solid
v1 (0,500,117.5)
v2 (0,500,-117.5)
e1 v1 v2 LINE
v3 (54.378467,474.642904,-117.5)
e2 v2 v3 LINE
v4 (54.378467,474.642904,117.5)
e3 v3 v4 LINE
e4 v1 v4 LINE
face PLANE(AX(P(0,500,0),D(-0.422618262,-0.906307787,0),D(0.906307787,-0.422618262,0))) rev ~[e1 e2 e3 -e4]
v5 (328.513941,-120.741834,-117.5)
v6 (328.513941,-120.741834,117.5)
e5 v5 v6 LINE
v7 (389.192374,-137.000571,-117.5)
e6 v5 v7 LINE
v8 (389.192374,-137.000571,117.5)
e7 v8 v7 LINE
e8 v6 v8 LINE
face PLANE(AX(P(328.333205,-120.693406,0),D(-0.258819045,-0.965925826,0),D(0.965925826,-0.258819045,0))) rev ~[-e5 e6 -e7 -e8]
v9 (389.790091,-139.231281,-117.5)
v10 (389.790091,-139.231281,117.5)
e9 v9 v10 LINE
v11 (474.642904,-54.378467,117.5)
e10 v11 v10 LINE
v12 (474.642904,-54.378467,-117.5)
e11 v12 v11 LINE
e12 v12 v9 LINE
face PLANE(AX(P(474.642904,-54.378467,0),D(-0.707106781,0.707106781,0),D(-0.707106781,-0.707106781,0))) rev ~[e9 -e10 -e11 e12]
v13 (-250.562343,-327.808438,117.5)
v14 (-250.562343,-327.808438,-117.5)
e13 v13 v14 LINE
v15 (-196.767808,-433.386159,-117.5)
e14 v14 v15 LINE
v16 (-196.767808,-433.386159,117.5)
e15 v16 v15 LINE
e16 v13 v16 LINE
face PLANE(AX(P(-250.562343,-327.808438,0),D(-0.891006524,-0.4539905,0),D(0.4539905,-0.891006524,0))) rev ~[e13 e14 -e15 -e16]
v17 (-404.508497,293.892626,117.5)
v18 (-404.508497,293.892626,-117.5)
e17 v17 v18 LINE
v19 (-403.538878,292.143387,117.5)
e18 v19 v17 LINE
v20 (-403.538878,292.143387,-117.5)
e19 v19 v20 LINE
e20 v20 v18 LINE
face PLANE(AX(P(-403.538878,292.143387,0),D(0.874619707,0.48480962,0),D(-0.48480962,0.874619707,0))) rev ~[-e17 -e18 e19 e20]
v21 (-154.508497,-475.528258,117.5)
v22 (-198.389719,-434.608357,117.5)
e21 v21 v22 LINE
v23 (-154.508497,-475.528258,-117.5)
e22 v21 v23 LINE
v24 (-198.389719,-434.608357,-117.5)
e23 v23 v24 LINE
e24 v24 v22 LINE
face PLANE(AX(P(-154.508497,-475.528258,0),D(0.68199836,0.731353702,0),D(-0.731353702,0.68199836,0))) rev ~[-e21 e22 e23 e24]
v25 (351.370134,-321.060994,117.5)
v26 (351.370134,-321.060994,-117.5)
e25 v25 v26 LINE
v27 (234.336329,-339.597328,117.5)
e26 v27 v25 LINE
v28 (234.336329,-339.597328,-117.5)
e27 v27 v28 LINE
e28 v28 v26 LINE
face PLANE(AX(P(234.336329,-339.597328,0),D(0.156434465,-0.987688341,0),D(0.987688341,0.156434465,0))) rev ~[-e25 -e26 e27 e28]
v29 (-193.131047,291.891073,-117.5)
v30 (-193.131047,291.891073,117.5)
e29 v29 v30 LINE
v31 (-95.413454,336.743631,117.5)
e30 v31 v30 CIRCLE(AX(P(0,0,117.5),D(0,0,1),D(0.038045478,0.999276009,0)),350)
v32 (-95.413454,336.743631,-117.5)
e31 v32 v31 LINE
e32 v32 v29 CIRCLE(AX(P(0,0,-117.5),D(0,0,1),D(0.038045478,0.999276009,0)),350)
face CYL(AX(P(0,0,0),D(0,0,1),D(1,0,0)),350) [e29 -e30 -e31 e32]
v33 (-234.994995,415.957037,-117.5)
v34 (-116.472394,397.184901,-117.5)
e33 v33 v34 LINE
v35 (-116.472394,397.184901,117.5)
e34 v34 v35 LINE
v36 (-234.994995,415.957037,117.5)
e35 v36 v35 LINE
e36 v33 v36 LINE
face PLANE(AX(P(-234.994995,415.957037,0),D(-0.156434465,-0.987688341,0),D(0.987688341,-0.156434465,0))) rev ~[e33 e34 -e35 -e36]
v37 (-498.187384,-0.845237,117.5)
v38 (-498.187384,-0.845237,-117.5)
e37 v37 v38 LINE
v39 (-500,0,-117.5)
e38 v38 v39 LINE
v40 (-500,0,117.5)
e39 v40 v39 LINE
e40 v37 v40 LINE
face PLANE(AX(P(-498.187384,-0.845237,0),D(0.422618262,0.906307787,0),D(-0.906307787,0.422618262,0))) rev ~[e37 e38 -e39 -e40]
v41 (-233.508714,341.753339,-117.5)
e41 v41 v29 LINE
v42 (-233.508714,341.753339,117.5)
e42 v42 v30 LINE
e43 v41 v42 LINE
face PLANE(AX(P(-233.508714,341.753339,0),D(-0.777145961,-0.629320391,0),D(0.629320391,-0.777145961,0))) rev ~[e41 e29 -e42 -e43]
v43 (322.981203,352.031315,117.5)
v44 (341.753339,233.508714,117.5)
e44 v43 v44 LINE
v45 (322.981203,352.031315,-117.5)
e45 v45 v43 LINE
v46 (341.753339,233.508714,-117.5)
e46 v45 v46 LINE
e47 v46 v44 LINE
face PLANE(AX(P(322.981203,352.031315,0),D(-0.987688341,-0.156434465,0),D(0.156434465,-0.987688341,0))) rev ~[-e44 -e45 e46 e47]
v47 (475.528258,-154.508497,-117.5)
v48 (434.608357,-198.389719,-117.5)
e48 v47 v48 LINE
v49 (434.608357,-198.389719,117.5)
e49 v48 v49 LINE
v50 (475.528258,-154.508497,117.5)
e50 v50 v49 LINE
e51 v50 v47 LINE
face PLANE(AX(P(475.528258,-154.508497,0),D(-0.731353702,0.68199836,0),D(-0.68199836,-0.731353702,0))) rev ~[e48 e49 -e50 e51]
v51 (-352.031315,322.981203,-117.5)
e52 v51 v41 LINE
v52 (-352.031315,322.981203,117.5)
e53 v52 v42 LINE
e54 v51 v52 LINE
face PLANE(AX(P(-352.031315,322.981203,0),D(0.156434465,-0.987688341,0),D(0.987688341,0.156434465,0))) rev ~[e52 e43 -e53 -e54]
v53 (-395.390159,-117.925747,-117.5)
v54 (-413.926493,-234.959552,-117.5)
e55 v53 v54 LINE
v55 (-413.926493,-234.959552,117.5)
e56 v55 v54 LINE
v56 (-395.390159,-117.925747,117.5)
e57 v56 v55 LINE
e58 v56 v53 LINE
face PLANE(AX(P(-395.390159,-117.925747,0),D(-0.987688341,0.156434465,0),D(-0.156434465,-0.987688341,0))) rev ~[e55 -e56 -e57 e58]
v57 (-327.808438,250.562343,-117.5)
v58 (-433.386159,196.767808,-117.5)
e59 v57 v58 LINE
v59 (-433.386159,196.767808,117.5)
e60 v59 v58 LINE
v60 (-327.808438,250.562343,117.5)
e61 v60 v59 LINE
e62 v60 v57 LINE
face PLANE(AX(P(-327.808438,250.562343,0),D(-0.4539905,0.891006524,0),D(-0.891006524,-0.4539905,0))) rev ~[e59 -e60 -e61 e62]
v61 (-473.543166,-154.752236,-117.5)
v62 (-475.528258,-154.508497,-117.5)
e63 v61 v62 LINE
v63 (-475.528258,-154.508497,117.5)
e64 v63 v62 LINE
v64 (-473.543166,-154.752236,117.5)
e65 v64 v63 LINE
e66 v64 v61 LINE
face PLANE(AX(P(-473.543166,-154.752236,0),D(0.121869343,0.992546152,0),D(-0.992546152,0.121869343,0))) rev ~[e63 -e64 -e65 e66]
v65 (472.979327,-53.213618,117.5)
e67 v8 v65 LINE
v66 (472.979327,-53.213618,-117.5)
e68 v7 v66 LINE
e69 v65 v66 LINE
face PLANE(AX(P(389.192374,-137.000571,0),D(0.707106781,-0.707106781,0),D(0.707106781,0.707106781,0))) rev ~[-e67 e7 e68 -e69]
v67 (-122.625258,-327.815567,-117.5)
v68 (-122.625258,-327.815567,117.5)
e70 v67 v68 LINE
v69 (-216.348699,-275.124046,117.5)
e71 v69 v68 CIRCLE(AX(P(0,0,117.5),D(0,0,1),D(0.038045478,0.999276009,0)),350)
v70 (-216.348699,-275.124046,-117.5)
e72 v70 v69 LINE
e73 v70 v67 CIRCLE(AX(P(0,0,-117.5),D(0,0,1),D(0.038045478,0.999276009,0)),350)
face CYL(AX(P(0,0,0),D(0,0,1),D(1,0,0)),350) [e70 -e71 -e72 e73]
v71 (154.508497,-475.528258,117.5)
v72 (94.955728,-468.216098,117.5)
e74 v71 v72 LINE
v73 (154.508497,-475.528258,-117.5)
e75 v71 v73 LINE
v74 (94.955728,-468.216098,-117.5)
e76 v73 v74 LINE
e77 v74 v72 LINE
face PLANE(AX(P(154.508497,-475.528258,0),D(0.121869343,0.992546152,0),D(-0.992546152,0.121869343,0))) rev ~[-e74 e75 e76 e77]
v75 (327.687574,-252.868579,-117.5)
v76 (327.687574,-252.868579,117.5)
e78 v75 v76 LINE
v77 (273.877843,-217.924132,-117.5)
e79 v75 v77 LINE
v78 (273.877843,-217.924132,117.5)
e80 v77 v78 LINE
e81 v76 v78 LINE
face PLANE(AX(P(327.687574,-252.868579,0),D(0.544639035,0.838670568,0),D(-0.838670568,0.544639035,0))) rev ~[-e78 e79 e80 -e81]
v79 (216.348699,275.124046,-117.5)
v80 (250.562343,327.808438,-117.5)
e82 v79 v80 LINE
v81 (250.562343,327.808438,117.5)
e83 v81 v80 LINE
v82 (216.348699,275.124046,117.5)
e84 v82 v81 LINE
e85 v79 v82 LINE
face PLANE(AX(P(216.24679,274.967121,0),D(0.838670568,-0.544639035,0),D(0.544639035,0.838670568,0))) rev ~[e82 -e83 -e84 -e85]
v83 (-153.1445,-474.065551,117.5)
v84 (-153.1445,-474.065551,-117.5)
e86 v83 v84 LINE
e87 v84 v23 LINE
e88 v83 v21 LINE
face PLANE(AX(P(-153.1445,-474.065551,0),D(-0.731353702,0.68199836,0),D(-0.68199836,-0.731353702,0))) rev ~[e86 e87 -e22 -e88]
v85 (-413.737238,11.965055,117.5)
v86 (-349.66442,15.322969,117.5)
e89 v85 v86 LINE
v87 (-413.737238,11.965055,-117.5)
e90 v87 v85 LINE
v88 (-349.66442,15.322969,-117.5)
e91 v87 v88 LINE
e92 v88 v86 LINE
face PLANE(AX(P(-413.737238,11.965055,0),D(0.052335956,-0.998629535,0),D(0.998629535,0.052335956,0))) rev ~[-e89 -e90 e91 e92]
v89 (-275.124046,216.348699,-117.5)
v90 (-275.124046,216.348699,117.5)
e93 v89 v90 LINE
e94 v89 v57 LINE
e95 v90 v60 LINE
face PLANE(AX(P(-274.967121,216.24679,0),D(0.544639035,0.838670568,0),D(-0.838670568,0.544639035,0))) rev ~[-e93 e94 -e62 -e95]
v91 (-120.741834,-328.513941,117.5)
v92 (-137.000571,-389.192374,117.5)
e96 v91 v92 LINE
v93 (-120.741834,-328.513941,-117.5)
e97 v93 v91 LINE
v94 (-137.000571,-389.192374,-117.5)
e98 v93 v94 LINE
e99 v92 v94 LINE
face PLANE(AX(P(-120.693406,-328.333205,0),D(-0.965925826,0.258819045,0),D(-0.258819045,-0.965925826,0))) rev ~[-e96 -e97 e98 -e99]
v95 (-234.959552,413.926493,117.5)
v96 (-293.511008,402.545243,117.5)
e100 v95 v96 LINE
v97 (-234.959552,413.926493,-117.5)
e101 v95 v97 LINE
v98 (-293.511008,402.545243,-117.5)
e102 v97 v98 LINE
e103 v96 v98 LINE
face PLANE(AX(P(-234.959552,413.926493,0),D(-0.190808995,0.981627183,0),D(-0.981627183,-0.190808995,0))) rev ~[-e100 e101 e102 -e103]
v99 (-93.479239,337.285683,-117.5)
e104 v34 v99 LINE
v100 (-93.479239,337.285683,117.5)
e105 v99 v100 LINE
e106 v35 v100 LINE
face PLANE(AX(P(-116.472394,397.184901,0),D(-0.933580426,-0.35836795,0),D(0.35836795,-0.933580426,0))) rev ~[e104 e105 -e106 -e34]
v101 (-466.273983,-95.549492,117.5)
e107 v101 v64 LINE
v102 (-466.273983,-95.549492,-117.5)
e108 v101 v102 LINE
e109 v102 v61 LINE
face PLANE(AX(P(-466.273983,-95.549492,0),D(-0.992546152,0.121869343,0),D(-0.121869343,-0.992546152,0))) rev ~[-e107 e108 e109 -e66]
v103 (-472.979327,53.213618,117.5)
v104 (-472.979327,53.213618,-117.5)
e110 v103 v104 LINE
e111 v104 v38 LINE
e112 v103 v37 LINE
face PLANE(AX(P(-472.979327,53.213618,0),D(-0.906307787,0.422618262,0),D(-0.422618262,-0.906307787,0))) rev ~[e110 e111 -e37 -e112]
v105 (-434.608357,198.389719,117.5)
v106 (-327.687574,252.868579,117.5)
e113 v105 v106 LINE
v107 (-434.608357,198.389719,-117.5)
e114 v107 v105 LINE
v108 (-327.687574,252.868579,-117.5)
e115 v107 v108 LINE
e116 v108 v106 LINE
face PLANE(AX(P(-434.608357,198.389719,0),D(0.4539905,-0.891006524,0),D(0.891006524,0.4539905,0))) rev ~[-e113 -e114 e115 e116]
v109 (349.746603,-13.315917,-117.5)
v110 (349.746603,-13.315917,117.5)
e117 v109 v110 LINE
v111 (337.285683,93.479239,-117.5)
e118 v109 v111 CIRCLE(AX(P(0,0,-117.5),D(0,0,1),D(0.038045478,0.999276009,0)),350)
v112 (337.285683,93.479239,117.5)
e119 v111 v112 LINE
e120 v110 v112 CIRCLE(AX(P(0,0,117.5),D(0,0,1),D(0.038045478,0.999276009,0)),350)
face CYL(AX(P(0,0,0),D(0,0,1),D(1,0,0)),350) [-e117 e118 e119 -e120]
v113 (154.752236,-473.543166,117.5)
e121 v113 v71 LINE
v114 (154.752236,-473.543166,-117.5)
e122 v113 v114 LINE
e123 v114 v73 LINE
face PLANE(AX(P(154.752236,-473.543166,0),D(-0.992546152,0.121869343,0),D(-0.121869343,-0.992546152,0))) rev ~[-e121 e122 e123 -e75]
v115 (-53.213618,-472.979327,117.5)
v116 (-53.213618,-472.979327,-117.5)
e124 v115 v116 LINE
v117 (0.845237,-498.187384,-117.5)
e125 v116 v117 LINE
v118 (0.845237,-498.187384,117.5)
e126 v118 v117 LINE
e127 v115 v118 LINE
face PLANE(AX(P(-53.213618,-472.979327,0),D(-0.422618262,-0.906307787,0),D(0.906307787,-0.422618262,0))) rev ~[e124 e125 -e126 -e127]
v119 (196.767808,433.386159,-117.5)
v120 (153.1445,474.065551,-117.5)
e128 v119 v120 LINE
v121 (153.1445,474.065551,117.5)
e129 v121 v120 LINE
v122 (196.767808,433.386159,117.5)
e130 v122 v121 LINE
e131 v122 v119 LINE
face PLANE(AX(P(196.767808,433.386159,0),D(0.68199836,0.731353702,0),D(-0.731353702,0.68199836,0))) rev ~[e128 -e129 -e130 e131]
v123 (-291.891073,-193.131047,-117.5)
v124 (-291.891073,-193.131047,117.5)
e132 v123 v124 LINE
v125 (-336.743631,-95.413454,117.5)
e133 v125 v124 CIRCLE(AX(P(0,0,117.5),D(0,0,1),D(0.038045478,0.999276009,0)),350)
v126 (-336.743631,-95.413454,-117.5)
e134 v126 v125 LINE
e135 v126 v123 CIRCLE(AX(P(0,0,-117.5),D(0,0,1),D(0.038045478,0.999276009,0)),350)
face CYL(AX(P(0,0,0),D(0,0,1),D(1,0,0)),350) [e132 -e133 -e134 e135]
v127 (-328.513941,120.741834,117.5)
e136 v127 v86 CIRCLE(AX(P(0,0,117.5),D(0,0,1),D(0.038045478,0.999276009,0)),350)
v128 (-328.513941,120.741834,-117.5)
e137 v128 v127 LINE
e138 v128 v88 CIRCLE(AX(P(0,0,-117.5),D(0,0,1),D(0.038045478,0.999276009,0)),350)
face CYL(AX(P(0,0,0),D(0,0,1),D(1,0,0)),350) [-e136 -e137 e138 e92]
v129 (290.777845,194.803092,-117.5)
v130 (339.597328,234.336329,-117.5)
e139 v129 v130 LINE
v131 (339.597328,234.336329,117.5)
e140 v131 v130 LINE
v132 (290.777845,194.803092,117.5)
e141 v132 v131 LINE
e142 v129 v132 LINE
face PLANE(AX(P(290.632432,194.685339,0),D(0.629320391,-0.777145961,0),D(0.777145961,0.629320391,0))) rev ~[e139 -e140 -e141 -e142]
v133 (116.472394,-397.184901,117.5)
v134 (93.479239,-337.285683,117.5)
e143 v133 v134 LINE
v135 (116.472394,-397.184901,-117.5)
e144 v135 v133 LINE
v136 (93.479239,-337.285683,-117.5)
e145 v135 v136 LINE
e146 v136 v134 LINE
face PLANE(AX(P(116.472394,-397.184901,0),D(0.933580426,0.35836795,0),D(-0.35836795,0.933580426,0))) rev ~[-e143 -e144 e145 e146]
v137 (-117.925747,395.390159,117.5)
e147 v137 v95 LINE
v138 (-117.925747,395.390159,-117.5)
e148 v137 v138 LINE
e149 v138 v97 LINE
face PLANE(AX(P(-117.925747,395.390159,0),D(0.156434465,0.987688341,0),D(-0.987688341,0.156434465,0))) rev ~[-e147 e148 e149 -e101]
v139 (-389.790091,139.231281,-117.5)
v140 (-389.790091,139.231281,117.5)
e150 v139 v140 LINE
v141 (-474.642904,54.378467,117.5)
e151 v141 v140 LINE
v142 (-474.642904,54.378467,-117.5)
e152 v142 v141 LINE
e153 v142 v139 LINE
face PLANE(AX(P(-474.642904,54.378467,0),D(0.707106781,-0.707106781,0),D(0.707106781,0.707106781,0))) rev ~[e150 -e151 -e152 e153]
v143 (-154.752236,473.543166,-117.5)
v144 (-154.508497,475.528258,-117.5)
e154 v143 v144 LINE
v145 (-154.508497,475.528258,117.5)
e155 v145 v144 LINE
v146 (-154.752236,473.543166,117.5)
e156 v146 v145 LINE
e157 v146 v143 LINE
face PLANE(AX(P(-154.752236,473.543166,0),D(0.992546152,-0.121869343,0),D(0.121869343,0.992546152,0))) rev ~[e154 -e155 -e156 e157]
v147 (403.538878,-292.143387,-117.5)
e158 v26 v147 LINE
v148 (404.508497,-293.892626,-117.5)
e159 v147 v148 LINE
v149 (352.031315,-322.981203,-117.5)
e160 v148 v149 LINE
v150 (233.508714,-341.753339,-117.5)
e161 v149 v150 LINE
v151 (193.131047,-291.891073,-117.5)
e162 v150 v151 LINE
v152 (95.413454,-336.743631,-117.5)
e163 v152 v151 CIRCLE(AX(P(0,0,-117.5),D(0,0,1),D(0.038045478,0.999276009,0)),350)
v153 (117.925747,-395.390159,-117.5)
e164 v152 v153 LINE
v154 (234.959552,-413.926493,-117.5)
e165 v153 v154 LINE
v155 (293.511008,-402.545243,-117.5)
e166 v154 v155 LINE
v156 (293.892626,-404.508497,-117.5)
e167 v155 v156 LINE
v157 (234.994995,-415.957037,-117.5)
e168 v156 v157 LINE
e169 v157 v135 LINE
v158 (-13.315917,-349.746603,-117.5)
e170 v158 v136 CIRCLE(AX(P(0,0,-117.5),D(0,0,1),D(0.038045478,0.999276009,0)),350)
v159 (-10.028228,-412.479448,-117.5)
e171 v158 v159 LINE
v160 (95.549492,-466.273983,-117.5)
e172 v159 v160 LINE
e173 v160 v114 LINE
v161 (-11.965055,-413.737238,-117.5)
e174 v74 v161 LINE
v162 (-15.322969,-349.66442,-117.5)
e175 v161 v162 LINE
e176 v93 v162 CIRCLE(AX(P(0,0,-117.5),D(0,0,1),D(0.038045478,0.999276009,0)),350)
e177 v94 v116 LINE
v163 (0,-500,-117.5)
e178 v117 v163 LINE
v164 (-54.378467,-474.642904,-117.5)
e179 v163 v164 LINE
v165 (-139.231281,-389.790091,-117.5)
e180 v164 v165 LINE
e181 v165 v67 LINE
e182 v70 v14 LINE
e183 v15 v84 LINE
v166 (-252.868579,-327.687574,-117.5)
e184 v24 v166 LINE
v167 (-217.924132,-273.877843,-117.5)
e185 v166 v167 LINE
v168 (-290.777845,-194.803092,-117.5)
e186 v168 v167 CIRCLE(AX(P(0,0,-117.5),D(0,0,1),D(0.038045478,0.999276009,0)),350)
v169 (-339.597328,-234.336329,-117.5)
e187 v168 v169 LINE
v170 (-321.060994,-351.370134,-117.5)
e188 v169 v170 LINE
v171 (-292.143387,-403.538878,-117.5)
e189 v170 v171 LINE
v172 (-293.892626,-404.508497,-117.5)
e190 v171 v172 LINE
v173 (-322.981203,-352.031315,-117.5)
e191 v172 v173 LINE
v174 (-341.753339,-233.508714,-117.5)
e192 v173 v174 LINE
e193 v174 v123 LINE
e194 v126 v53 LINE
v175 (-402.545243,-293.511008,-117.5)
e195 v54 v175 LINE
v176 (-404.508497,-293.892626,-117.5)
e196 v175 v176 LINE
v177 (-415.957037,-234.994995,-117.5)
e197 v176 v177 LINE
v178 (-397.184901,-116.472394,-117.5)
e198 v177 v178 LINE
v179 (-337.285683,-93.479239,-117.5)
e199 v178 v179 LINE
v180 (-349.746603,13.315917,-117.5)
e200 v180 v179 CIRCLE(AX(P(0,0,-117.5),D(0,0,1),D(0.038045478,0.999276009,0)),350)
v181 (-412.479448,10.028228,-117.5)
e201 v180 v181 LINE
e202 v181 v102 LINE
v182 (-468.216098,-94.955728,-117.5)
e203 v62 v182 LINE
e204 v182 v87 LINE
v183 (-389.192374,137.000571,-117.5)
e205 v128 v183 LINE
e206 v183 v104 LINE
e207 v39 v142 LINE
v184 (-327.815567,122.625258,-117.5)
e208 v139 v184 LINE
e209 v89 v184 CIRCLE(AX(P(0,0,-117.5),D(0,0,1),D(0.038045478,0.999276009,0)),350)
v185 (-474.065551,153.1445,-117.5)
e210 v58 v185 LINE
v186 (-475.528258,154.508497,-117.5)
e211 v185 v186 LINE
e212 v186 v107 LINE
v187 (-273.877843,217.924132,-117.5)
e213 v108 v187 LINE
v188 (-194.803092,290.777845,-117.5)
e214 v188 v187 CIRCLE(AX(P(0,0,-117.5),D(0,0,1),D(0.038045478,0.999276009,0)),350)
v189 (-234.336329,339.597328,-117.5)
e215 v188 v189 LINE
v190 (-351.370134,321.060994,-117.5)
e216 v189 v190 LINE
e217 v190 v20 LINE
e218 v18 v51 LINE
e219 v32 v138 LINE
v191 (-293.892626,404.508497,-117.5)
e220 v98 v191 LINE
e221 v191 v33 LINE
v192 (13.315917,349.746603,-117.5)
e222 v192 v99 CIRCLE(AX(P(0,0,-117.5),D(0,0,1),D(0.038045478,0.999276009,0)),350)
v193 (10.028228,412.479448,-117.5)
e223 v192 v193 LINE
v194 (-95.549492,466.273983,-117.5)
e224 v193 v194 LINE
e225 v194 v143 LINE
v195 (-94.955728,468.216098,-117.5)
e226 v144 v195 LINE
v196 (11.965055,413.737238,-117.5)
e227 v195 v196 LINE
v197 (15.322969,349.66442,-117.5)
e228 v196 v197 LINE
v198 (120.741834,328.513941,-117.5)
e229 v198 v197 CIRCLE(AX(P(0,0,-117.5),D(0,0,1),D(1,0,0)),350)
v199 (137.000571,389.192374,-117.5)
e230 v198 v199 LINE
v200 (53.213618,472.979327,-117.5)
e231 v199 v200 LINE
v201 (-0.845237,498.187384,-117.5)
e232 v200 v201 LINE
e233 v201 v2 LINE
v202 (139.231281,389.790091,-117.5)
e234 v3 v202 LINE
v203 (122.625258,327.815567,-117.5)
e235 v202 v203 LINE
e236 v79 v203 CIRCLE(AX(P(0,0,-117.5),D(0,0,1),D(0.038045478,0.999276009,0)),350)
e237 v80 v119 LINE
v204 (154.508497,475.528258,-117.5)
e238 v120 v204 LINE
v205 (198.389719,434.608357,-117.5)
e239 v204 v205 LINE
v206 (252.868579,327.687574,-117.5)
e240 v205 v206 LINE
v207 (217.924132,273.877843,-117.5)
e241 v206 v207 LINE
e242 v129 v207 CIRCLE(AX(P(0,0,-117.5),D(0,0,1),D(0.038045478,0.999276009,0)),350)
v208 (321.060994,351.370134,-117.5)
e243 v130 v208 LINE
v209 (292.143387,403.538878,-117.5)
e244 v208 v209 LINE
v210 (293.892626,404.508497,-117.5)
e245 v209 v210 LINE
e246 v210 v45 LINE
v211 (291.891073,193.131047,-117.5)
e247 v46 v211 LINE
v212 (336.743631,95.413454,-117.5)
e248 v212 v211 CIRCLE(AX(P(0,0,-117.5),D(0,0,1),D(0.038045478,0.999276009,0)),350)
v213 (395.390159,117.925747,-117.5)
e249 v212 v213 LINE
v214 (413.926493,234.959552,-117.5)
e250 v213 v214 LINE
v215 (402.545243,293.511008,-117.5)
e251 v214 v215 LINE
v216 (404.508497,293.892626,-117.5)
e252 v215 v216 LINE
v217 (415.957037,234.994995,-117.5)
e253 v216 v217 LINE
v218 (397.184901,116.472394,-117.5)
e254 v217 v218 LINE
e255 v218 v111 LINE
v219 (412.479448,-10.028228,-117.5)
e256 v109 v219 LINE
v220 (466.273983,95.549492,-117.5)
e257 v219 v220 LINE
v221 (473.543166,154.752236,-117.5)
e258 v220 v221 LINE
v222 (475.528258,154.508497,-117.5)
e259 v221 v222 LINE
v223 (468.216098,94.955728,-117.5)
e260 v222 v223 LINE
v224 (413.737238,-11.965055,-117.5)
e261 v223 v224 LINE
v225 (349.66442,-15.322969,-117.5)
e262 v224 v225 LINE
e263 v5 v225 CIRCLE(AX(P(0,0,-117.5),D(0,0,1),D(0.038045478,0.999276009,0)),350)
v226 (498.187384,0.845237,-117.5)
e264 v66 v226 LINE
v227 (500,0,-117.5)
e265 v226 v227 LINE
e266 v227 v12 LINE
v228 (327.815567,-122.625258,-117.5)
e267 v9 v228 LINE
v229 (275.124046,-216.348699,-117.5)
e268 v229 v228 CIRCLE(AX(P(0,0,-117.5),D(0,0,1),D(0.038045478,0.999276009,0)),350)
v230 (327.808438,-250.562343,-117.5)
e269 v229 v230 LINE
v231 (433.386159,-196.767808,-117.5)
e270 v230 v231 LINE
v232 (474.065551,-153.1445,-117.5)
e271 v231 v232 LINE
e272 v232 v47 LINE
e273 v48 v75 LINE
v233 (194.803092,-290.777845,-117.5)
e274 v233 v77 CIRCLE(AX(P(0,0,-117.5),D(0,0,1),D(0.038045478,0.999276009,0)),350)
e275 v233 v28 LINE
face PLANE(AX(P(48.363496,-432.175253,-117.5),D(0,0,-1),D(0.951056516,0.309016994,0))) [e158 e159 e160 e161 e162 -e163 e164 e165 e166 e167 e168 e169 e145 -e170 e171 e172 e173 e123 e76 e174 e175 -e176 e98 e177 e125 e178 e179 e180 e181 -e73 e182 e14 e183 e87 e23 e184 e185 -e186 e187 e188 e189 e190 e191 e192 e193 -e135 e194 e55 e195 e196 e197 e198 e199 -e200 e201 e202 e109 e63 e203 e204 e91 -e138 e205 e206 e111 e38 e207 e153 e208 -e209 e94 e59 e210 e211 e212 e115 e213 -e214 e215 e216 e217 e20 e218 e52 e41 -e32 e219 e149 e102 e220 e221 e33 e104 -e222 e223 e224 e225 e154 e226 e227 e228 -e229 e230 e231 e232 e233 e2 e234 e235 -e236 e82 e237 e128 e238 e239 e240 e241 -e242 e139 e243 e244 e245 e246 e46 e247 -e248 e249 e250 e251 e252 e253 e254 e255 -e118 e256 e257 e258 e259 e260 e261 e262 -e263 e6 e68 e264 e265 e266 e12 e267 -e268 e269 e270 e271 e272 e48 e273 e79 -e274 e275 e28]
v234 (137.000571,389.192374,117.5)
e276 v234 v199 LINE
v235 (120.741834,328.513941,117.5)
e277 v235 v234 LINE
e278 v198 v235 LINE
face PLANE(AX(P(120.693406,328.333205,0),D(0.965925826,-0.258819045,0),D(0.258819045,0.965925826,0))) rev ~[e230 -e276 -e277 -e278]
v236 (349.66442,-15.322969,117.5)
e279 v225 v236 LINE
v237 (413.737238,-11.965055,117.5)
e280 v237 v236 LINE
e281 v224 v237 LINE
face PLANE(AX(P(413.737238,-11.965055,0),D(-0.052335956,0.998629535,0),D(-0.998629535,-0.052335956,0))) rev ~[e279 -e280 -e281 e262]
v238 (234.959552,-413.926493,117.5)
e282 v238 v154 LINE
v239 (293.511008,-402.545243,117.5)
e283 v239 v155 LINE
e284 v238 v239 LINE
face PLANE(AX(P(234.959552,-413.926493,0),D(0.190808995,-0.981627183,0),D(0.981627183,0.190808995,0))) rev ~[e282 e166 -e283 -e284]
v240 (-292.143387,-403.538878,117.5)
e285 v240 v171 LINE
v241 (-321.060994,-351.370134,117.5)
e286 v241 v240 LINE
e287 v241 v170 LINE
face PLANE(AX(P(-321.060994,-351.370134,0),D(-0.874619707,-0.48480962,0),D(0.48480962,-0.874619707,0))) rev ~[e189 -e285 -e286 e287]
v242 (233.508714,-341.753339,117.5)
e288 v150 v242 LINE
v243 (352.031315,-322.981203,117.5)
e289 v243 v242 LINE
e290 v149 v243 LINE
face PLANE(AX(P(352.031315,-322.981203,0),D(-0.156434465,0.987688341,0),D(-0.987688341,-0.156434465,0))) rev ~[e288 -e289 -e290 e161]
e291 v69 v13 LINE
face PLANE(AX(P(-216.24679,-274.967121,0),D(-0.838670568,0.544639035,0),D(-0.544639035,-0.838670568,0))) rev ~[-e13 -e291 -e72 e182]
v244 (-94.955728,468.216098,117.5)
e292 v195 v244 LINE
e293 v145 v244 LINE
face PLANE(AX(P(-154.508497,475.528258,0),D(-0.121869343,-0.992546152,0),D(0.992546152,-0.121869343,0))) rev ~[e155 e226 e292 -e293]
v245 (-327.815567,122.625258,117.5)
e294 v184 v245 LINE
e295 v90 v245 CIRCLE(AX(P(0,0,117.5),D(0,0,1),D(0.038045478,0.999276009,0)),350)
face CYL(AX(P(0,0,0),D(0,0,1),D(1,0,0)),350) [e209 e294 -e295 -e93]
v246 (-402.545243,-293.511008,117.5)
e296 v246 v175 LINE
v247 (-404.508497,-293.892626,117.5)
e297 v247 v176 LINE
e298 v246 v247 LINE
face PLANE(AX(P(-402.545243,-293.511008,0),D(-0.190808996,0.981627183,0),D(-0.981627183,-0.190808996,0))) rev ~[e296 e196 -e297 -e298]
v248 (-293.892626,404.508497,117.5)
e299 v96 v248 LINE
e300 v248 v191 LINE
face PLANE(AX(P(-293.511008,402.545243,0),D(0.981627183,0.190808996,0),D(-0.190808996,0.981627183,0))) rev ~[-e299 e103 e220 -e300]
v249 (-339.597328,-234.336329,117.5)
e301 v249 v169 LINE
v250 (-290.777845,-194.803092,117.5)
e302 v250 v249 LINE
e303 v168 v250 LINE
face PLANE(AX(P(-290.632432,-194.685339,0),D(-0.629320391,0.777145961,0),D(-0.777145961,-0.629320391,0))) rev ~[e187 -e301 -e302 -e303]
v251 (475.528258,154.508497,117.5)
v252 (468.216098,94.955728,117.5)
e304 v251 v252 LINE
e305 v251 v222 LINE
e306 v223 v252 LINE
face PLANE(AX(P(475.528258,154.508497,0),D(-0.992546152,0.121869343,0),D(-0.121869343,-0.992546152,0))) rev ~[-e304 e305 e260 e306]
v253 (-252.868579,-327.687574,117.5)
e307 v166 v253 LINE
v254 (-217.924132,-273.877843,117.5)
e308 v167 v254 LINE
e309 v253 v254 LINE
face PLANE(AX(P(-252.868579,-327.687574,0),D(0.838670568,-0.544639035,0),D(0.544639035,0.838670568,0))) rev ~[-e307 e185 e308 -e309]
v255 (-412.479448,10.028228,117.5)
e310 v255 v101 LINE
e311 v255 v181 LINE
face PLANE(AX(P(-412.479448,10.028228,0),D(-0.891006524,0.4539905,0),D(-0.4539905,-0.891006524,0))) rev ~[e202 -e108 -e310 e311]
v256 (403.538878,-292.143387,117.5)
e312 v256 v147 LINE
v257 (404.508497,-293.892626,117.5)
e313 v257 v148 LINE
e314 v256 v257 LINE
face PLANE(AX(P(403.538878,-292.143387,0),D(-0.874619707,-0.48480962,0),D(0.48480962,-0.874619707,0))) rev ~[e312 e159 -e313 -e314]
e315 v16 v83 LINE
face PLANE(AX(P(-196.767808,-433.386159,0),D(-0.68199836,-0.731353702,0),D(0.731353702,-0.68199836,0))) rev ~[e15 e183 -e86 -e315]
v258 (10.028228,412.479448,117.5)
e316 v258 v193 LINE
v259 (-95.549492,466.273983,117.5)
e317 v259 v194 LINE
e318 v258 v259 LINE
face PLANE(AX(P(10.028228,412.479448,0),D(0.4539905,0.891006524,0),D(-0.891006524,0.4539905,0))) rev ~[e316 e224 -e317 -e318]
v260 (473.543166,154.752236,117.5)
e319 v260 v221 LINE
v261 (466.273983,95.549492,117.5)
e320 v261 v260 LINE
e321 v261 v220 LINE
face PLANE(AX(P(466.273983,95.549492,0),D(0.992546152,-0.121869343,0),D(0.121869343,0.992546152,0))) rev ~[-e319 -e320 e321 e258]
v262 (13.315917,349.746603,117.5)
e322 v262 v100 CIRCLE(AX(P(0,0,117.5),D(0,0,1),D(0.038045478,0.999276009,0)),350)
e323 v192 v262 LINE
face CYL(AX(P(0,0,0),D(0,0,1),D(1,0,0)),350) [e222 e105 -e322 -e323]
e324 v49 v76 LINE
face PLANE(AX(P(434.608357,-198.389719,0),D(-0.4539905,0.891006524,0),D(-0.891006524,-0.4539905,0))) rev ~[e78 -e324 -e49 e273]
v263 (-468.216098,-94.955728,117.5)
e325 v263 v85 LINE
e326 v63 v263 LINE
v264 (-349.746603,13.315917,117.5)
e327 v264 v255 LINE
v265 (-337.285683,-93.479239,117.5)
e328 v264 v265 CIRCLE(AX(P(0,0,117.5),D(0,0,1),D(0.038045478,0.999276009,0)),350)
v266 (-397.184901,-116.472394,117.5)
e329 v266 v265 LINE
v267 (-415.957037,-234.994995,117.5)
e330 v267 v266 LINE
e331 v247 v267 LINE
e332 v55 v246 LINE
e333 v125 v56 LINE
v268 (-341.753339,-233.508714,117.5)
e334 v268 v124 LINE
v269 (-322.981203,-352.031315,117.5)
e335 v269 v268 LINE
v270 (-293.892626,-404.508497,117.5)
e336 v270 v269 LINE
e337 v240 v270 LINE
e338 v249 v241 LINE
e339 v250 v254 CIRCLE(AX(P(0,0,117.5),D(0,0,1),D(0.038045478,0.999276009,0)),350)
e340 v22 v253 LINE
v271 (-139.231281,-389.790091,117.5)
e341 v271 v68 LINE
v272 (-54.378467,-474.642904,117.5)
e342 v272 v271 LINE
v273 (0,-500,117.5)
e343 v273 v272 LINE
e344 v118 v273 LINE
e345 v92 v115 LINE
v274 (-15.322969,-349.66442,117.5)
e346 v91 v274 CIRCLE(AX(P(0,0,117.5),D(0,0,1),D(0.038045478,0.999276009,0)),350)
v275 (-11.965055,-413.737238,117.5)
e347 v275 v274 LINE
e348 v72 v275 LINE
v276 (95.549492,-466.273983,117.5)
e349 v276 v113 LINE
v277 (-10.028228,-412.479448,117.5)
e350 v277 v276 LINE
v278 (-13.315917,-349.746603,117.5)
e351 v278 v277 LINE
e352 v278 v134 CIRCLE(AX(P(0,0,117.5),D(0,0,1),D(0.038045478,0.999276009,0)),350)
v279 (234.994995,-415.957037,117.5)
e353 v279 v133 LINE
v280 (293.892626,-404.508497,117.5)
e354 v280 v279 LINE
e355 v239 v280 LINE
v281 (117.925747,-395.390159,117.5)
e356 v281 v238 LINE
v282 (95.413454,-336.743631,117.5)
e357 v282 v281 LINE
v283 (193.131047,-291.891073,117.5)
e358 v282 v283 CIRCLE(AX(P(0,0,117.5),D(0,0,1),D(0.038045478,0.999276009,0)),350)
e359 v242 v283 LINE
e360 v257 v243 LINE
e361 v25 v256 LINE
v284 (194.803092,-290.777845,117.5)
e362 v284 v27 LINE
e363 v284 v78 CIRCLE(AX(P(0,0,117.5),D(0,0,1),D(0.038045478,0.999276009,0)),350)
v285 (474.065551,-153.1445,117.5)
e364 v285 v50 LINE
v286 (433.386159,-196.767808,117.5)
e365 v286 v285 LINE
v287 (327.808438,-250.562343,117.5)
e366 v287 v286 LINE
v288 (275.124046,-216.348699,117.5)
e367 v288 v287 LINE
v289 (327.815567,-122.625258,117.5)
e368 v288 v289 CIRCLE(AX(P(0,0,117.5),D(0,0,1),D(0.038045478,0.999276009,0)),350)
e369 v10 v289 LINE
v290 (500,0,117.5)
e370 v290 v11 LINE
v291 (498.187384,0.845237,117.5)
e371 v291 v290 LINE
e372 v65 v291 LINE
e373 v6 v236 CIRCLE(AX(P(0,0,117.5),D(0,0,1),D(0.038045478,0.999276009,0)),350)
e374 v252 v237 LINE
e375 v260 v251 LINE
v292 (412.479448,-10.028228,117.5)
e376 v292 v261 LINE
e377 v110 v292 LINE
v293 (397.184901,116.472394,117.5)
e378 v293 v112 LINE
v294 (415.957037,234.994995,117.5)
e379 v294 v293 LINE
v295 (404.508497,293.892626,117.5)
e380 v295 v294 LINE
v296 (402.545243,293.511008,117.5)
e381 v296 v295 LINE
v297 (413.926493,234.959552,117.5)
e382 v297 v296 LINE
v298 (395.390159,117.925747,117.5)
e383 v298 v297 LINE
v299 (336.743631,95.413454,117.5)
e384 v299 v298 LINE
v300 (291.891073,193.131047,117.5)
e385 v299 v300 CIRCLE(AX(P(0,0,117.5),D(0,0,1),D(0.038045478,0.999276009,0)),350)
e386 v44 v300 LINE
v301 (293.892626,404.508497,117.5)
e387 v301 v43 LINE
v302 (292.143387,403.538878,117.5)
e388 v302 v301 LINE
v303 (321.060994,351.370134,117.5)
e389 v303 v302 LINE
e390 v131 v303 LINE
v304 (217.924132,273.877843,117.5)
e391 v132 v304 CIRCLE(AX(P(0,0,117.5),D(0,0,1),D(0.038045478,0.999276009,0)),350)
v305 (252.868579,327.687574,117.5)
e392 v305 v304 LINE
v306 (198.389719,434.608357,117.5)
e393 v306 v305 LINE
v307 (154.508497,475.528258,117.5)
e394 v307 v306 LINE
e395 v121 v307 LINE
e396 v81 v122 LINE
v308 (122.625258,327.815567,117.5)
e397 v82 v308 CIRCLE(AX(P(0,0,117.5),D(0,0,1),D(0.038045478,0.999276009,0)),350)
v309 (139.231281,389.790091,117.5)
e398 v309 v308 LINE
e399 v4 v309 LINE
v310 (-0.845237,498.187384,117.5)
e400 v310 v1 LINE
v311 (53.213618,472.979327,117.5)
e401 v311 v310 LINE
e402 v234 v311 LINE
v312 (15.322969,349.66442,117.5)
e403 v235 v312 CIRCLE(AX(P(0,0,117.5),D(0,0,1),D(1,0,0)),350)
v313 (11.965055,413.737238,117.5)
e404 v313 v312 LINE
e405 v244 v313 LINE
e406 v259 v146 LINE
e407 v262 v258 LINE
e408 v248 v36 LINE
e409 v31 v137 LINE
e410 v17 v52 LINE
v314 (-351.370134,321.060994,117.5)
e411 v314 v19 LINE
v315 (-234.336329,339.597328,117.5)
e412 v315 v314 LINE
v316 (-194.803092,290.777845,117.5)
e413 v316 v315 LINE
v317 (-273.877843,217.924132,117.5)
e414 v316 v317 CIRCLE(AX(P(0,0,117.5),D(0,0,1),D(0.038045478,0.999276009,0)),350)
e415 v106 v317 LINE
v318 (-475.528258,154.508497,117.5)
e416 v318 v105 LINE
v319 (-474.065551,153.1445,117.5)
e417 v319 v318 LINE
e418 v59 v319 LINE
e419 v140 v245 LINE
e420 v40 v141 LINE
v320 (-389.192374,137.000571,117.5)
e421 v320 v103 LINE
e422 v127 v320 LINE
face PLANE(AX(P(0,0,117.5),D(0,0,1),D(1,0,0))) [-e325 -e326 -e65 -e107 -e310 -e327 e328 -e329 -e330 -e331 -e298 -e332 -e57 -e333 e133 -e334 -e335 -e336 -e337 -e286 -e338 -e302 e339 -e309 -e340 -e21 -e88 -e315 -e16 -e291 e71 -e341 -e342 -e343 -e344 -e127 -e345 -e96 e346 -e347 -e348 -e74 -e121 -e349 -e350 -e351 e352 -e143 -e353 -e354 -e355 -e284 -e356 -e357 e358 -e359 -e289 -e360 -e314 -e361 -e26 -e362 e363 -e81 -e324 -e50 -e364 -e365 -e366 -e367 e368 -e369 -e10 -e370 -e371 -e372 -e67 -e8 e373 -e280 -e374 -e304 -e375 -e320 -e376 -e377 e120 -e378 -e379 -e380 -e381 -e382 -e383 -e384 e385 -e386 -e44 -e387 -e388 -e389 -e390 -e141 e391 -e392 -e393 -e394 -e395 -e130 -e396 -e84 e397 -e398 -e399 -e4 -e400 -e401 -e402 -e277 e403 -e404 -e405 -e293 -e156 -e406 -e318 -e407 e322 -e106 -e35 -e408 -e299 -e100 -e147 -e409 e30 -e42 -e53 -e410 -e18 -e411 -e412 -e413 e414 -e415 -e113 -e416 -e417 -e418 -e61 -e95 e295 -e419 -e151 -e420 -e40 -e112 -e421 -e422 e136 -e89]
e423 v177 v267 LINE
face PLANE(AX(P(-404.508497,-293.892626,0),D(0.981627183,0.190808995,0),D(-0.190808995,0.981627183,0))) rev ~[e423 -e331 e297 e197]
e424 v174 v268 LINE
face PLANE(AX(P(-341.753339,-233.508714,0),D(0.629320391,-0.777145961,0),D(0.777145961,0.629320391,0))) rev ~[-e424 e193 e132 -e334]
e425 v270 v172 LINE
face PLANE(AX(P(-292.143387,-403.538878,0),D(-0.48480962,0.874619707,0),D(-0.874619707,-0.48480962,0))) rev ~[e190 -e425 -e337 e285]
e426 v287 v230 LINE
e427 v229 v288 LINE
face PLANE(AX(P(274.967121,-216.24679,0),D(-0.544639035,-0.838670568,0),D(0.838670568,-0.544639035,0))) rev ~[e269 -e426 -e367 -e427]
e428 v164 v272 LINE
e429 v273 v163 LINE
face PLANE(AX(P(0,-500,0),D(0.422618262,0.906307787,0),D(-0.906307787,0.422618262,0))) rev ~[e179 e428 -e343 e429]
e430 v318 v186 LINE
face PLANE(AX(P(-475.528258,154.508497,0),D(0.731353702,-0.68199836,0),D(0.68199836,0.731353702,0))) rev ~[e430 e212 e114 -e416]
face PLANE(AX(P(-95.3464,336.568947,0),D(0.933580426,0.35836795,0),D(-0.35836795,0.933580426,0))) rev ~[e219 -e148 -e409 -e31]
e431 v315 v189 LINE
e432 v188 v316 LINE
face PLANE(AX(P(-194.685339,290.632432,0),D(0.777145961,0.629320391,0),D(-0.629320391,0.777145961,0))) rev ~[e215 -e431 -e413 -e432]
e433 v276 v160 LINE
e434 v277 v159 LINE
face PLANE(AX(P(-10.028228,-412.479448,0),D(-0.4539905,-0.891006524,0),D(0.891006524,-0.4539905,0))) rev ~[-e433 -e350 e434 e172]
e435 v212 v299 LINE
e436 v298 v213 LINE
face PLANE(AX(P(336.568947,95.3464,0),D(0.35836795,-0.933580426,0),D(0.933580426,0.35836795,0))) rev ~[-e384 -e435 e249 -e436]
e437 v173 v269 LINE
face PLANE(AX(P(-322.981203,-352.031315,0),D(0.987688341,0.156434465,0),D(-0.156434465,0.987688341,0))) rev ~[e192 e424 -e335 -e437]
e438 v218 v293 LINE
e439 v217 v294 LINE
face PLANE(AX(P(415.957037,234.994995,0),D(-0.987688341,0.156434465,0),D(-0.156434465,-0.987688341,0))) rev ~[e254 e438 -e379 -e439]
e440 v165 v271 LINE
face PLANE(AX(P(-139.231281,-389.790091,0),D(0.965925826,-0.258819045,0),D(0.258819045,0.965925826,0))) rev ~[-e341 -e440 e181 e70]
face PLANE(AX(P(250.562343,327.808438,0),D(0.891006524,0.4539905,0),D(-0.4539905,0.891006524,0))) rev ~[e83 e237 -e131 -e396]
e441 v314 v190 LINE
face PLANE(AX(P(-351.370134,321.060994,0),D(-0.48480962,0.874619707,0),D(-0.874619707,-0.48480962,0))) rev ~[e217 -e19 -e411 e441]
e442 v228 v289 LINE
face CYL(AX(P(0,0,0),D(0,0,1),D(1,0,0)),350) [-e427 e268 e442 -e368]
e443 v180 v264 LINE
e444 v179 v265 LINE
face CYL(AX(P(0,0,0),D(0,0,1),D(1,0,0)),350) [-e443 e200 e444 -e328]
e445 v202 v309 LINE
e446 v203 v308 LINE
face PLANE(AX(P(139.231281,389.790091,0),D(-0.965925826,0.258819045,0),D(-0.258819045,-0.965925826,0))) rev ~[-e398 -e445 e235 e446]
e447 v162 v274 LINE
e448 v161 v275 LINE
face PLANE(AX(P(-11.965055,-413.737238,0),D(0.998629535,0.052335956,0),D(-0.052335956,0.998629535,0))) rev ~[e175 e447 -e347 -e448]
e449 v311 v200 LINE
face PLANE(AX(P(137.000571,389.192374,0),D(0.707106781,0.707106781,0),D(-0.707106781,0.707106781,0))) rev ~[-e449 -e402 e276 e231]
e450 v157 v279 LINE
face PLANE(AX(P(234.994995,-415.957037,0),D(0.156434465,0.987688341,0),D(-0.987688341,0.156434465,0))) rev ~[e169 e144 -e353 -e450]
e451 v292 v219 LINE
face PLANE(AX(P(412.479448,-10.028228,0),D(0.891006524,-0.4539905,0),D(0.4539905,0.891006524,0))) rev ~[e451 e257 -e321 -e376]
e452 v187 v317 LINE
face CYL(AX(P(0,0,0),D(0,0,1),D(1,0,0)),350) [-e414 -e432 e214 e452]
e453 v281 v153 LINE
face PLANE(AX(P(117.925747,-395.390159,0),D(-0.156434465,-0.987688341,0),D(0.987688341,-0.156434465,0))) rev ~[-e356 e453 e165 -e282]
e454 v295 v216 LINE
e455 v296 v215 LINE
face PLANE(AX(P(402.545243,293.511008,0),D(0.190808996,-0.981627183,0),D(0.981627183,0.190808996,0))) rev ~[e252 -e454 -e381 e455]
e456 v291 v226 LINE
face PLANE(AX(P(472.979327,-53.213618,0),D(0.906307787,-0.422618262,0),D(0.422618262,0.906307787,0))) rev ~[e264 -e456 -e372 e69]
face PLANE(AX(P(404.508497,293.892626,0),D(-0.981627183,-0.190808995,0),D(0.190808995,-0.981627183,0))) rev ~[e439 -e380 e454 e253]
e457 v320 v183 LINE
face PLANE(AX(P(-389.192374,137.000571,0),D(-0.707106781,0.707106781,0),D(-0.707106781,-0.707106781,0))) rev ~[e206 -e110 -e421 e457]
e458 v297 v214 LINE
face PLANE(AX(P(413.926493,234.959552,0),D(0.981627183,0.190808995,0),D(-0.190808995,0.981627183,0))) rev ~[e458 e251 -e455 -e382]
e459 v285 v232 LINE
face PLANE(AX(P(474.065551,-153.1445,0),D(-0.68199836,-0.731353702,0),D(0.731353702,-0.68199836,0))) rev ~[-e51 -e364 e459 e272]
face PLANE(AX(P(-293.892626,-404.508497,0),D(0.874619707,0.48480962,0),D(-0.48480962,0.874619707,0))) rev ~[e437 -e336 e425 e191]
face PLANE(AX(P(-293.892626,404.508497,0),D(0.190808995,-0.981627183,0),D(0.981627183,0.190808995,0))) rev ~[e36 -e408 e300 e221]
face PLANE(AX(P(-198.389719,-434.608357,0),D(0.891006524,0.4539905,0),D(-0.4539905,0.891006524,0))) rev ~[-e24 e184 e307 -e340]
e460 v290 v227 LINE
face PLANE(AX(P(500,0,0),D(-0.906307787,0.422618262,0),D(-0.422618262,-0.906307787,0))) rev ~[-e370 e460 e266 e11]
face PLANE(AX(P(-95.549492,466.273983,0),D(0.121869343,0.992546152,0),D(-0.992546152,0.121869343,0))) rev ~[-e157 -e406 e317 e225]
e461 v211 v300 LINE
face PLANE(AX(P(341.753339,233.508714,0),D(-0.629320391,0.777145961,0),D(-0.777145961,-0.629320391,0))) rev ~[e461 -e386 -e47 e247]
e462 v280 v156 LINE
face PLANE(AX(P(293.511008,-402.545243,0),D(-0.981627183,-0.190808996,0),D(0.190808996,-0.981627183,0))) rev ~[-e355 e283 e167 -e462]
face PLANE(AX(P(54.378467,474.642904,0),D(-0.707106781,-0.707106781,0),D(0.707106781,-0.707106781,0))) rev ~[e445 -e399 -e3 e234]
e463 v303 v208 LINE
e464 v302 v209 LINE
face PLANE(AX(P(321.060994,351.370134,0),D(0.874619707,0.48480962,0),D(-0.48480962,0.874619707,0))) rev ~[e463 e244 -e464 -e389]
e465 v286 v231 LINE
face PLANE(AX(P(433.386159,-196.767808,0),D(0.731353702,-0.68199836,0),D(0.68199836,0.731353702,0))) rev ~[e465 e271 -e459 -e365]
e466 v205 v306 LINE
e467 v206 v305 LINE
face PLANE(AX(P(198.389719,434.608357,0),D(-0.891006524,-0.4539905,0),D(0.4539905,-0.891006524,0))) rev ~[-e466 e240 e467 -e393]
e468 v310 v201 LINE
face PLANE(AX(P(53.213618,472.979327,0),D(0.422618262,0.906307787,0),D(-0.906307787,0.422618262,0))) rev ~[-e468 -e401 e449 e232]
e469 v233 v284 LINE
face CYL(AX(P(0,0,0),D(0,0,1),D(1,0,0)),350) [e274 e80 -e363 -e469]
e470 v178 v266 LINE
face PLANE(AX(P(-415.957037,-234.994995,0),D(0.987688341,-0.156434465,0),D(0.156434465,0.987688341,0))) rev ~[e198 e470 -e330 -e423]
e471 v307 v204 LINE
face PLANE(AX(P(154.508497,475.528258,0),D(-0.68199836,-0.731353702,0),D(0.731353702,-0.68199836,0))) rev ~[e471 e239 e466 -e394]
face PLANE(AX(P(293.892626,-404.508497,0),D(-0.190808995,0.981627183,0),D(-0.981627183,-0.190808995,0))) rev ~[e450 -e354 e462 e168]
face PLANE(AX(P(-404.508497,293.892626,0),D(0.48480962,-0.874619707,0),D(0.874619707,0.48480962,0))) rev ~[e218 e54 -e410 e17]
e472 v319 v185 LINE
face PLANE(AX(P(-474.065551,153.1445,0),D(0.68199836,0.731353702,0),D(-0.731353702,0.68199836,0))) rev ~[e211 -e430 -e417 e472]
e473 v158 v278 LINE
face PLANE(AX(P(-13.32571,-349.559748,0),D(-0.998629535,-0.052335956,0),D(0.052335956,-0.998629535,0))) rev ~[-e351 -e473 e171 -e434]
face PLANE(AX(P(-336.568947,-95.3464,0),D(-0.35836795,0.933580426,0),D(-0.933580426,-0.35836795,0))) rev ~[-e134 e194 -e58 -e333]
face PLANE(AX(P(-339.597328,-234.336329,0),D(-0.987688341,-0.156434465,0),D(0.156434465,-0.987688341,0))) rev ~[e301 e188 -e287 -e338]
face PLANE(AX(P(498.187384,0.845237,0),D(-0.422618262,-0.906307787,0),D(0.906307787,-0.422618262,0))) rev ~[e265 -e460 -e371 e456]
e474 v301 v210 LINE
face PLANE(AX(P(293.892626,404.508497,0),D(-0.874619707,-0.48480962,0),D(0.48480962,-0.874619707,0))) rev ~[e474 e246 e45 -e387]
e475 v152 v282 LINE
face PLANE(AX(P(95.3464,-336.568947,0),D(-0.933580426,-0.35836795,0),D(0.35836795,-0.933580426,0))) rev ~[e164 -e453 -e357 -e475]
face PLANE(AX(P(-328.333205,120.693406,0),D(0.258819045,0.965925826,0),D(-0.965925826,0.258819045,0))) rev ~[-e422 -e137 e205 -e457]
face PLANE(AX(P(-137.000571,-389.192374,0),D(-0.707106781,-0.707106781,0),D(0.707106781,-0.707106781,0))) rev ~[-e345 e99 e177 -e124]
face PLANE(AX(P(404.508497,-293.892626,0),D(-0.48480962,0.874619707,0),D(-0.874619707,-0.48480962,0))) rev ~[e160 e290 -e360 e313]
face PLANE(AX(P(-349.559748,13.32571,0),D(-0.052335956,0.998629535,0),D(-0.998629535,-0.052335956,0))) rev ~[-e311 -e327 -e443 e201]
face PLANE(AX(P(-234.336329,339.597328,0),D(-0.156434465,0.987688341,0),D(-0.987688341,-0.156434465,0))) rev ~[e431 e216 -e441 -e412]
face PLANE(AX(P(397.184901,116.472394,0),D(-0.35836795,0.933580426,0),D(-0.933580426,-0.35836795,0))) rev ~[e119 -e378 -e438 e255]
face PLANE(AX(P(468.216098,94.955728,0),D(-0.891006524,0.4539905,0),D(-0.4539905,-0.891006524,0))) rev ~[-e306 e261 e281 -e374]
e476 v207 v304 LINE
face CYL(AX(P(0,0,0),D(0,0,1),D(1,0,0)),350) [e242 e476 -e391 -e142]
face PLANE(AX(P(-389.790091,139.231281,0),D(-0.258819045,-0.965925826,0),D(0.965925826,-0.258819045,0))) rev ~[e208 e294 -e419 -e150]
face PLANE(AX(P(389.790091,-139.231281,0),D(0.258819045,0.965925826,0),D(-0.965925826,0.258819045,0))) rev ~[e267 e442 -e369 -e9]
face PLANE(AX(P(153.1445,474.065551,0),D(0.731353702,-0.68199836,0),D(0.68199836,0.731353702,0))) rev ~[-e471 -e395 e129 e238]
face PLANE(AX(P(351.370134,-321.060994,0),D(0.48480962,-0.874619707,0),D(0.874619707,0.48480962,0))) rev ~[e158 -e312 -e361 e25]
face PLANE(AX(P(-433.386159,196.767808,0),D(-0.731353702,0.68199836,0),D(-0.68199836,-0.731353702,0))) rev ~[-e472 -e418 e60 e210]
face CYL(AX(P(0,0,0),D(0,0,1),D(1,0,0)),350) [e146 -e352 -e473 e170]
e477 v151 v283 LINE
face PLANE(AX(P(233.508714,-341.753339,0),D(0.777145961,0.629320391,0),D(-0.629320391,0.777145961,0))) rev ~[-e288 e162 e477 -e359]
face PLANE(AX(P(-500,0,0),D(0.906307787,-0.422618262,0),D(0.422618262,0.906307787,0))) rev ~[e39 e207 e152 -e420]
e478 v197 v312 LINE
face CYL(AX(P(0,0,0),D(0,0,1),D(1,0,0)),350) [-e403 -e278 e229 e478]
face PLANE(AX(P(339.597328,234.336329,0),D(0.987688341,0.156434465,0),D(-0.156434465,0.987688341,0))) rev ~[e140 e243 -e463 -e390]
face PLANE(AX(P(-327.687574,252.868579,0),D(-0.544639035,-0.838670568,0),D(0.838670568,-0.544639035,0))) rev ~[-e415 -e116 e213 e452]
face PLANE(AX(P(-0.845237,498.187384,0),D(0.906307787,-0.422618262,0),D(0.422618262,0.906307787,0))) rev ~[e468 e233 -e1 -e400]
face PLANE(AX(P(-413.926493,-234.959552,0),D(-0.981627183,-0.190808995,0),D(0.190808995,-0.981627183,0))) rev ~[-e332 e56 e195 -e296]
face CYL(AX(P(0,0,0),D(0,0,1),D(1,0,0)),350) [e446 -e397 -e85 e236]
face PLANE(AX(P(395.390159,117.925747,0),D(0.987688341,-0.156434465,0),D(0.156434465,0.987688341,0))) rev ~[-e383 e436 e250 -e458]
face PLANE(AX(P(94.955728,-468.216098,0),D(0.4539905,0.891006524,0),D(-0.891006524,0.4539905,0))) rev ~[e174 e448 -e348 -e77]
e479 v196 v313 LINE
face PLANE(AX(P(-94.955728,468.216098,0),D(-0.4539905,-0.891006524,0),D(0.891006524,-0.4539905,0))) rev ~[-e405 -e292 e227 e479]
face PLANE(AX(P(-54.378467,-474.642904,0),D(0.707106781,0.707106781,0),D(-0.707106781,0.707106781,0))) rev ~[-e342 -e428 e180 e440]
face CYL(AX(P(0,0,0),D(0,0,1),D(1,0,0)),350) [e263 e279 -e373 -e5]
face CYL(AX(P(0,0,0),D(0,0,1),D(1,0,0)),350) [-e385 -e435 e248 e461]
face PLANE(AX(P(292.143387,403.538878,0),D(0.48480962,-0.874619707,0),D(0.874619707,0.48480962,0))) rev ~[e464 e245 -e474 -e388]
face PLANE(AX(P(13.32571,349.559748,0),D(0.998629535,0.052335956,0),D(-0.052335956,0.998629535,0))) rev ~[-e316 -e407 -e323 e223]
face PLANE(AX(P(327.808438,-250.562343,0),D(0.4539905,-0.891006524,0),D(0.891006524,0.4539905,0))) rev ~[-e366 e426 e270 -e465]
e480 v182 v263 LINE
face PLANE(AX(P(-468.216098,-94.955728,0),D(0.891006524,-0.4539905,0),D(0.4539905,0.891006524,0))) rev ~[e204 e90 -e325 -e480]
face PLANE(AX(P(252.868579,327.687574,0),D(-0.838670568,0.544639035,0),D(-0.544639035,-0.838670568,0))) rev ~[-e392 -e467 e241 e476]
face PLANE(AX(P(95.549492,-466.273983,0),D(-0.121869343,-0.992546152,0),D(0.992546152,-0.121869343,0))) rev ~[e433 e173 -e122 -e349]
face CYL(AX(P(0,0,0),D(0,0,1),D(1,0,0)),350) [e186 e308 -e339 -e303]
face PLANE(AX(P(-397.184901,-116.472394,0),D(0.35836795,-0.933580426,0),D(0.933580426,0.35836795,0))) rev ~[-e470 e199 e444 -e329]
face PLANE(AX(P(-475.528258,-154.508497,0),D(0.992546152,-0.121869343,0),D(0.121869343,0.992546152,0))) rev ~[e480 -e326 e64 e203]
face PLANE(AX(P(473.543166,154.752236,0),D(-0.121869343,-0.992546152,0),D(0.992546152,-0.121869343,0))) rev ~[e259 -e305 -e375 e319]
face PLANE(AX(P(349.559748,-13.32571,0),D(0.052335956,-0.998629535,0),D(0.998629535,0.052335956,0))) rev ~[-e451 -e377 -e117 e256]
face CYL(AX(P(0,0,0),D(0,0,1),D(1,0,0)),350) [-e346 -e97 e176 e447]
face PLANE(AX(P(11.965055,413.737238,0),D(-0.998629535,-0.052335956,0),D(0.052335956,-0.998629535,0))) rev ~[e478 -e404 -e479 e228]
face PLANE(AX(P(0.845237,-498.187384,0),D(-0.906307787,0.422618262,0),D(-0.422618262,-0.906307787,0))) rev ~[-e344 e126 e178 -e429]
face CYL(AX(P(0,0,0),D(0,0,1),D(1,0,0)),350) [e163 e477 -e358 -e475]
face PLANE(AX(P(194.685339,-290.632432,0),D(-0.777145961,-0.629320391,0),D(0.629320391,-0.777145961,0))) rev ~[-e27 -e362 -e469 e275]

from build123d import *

# Parameters (mm, degrees)
RADDURCHMESSER_R                = 350
AUFSATZ_LINEAR_AUSTRAGEN1_DEPTH = 117.5
AUFSATZ_LINEAR_AUSTRAGEN2_DEPTH = 117.5
KREISMUSTER1_COUNT              = 20


with BuildPart() as part:
    # Raddurchmesser → Aufsatz-Linear austragen1 (new body, symmetric)
    with BuildSketch(Plane.XY):
        Circle(RADDURCHMESSER_R)
    extrude(amount=AUFSATZ_LINEAR_AUSTRAGEN1_DEPTH, both=True)

    # Schaufelschnitt → Aufsatz-Linear austragen2 (add, symmetric)
    with BuildSketch(Plane.XY):
        Polygon((122.625257529, 327.815567379), (120.693405876, 328.333205469), (137.000570821, 389.192373572), (53.213617667, 472.979326726), (-0.845236523, 498.187384426), (0, 500), (54.378467222, 474.642904296), (139.231280965, 389.790090553), align=None)
    aufsatz_linear_austragen2 = extrude(amount=AUFSATZ_LINEAR_AUSTRAGEN2_DEPTH, both=True)

    # Kreismuster1: Aufsatz-Linear austragen2 ×20 about axis
    kreismuster1_axis = Axis((0, 0, 0), (0, 0, 1))
    for i in range(1, KREISMUSTER1_COUNT):
        add(aufsatz_linear_austragen2.rotate(kreismuster1_axis, i * 360 / KREISMUSTER1_COUNT))


solid = part.part
